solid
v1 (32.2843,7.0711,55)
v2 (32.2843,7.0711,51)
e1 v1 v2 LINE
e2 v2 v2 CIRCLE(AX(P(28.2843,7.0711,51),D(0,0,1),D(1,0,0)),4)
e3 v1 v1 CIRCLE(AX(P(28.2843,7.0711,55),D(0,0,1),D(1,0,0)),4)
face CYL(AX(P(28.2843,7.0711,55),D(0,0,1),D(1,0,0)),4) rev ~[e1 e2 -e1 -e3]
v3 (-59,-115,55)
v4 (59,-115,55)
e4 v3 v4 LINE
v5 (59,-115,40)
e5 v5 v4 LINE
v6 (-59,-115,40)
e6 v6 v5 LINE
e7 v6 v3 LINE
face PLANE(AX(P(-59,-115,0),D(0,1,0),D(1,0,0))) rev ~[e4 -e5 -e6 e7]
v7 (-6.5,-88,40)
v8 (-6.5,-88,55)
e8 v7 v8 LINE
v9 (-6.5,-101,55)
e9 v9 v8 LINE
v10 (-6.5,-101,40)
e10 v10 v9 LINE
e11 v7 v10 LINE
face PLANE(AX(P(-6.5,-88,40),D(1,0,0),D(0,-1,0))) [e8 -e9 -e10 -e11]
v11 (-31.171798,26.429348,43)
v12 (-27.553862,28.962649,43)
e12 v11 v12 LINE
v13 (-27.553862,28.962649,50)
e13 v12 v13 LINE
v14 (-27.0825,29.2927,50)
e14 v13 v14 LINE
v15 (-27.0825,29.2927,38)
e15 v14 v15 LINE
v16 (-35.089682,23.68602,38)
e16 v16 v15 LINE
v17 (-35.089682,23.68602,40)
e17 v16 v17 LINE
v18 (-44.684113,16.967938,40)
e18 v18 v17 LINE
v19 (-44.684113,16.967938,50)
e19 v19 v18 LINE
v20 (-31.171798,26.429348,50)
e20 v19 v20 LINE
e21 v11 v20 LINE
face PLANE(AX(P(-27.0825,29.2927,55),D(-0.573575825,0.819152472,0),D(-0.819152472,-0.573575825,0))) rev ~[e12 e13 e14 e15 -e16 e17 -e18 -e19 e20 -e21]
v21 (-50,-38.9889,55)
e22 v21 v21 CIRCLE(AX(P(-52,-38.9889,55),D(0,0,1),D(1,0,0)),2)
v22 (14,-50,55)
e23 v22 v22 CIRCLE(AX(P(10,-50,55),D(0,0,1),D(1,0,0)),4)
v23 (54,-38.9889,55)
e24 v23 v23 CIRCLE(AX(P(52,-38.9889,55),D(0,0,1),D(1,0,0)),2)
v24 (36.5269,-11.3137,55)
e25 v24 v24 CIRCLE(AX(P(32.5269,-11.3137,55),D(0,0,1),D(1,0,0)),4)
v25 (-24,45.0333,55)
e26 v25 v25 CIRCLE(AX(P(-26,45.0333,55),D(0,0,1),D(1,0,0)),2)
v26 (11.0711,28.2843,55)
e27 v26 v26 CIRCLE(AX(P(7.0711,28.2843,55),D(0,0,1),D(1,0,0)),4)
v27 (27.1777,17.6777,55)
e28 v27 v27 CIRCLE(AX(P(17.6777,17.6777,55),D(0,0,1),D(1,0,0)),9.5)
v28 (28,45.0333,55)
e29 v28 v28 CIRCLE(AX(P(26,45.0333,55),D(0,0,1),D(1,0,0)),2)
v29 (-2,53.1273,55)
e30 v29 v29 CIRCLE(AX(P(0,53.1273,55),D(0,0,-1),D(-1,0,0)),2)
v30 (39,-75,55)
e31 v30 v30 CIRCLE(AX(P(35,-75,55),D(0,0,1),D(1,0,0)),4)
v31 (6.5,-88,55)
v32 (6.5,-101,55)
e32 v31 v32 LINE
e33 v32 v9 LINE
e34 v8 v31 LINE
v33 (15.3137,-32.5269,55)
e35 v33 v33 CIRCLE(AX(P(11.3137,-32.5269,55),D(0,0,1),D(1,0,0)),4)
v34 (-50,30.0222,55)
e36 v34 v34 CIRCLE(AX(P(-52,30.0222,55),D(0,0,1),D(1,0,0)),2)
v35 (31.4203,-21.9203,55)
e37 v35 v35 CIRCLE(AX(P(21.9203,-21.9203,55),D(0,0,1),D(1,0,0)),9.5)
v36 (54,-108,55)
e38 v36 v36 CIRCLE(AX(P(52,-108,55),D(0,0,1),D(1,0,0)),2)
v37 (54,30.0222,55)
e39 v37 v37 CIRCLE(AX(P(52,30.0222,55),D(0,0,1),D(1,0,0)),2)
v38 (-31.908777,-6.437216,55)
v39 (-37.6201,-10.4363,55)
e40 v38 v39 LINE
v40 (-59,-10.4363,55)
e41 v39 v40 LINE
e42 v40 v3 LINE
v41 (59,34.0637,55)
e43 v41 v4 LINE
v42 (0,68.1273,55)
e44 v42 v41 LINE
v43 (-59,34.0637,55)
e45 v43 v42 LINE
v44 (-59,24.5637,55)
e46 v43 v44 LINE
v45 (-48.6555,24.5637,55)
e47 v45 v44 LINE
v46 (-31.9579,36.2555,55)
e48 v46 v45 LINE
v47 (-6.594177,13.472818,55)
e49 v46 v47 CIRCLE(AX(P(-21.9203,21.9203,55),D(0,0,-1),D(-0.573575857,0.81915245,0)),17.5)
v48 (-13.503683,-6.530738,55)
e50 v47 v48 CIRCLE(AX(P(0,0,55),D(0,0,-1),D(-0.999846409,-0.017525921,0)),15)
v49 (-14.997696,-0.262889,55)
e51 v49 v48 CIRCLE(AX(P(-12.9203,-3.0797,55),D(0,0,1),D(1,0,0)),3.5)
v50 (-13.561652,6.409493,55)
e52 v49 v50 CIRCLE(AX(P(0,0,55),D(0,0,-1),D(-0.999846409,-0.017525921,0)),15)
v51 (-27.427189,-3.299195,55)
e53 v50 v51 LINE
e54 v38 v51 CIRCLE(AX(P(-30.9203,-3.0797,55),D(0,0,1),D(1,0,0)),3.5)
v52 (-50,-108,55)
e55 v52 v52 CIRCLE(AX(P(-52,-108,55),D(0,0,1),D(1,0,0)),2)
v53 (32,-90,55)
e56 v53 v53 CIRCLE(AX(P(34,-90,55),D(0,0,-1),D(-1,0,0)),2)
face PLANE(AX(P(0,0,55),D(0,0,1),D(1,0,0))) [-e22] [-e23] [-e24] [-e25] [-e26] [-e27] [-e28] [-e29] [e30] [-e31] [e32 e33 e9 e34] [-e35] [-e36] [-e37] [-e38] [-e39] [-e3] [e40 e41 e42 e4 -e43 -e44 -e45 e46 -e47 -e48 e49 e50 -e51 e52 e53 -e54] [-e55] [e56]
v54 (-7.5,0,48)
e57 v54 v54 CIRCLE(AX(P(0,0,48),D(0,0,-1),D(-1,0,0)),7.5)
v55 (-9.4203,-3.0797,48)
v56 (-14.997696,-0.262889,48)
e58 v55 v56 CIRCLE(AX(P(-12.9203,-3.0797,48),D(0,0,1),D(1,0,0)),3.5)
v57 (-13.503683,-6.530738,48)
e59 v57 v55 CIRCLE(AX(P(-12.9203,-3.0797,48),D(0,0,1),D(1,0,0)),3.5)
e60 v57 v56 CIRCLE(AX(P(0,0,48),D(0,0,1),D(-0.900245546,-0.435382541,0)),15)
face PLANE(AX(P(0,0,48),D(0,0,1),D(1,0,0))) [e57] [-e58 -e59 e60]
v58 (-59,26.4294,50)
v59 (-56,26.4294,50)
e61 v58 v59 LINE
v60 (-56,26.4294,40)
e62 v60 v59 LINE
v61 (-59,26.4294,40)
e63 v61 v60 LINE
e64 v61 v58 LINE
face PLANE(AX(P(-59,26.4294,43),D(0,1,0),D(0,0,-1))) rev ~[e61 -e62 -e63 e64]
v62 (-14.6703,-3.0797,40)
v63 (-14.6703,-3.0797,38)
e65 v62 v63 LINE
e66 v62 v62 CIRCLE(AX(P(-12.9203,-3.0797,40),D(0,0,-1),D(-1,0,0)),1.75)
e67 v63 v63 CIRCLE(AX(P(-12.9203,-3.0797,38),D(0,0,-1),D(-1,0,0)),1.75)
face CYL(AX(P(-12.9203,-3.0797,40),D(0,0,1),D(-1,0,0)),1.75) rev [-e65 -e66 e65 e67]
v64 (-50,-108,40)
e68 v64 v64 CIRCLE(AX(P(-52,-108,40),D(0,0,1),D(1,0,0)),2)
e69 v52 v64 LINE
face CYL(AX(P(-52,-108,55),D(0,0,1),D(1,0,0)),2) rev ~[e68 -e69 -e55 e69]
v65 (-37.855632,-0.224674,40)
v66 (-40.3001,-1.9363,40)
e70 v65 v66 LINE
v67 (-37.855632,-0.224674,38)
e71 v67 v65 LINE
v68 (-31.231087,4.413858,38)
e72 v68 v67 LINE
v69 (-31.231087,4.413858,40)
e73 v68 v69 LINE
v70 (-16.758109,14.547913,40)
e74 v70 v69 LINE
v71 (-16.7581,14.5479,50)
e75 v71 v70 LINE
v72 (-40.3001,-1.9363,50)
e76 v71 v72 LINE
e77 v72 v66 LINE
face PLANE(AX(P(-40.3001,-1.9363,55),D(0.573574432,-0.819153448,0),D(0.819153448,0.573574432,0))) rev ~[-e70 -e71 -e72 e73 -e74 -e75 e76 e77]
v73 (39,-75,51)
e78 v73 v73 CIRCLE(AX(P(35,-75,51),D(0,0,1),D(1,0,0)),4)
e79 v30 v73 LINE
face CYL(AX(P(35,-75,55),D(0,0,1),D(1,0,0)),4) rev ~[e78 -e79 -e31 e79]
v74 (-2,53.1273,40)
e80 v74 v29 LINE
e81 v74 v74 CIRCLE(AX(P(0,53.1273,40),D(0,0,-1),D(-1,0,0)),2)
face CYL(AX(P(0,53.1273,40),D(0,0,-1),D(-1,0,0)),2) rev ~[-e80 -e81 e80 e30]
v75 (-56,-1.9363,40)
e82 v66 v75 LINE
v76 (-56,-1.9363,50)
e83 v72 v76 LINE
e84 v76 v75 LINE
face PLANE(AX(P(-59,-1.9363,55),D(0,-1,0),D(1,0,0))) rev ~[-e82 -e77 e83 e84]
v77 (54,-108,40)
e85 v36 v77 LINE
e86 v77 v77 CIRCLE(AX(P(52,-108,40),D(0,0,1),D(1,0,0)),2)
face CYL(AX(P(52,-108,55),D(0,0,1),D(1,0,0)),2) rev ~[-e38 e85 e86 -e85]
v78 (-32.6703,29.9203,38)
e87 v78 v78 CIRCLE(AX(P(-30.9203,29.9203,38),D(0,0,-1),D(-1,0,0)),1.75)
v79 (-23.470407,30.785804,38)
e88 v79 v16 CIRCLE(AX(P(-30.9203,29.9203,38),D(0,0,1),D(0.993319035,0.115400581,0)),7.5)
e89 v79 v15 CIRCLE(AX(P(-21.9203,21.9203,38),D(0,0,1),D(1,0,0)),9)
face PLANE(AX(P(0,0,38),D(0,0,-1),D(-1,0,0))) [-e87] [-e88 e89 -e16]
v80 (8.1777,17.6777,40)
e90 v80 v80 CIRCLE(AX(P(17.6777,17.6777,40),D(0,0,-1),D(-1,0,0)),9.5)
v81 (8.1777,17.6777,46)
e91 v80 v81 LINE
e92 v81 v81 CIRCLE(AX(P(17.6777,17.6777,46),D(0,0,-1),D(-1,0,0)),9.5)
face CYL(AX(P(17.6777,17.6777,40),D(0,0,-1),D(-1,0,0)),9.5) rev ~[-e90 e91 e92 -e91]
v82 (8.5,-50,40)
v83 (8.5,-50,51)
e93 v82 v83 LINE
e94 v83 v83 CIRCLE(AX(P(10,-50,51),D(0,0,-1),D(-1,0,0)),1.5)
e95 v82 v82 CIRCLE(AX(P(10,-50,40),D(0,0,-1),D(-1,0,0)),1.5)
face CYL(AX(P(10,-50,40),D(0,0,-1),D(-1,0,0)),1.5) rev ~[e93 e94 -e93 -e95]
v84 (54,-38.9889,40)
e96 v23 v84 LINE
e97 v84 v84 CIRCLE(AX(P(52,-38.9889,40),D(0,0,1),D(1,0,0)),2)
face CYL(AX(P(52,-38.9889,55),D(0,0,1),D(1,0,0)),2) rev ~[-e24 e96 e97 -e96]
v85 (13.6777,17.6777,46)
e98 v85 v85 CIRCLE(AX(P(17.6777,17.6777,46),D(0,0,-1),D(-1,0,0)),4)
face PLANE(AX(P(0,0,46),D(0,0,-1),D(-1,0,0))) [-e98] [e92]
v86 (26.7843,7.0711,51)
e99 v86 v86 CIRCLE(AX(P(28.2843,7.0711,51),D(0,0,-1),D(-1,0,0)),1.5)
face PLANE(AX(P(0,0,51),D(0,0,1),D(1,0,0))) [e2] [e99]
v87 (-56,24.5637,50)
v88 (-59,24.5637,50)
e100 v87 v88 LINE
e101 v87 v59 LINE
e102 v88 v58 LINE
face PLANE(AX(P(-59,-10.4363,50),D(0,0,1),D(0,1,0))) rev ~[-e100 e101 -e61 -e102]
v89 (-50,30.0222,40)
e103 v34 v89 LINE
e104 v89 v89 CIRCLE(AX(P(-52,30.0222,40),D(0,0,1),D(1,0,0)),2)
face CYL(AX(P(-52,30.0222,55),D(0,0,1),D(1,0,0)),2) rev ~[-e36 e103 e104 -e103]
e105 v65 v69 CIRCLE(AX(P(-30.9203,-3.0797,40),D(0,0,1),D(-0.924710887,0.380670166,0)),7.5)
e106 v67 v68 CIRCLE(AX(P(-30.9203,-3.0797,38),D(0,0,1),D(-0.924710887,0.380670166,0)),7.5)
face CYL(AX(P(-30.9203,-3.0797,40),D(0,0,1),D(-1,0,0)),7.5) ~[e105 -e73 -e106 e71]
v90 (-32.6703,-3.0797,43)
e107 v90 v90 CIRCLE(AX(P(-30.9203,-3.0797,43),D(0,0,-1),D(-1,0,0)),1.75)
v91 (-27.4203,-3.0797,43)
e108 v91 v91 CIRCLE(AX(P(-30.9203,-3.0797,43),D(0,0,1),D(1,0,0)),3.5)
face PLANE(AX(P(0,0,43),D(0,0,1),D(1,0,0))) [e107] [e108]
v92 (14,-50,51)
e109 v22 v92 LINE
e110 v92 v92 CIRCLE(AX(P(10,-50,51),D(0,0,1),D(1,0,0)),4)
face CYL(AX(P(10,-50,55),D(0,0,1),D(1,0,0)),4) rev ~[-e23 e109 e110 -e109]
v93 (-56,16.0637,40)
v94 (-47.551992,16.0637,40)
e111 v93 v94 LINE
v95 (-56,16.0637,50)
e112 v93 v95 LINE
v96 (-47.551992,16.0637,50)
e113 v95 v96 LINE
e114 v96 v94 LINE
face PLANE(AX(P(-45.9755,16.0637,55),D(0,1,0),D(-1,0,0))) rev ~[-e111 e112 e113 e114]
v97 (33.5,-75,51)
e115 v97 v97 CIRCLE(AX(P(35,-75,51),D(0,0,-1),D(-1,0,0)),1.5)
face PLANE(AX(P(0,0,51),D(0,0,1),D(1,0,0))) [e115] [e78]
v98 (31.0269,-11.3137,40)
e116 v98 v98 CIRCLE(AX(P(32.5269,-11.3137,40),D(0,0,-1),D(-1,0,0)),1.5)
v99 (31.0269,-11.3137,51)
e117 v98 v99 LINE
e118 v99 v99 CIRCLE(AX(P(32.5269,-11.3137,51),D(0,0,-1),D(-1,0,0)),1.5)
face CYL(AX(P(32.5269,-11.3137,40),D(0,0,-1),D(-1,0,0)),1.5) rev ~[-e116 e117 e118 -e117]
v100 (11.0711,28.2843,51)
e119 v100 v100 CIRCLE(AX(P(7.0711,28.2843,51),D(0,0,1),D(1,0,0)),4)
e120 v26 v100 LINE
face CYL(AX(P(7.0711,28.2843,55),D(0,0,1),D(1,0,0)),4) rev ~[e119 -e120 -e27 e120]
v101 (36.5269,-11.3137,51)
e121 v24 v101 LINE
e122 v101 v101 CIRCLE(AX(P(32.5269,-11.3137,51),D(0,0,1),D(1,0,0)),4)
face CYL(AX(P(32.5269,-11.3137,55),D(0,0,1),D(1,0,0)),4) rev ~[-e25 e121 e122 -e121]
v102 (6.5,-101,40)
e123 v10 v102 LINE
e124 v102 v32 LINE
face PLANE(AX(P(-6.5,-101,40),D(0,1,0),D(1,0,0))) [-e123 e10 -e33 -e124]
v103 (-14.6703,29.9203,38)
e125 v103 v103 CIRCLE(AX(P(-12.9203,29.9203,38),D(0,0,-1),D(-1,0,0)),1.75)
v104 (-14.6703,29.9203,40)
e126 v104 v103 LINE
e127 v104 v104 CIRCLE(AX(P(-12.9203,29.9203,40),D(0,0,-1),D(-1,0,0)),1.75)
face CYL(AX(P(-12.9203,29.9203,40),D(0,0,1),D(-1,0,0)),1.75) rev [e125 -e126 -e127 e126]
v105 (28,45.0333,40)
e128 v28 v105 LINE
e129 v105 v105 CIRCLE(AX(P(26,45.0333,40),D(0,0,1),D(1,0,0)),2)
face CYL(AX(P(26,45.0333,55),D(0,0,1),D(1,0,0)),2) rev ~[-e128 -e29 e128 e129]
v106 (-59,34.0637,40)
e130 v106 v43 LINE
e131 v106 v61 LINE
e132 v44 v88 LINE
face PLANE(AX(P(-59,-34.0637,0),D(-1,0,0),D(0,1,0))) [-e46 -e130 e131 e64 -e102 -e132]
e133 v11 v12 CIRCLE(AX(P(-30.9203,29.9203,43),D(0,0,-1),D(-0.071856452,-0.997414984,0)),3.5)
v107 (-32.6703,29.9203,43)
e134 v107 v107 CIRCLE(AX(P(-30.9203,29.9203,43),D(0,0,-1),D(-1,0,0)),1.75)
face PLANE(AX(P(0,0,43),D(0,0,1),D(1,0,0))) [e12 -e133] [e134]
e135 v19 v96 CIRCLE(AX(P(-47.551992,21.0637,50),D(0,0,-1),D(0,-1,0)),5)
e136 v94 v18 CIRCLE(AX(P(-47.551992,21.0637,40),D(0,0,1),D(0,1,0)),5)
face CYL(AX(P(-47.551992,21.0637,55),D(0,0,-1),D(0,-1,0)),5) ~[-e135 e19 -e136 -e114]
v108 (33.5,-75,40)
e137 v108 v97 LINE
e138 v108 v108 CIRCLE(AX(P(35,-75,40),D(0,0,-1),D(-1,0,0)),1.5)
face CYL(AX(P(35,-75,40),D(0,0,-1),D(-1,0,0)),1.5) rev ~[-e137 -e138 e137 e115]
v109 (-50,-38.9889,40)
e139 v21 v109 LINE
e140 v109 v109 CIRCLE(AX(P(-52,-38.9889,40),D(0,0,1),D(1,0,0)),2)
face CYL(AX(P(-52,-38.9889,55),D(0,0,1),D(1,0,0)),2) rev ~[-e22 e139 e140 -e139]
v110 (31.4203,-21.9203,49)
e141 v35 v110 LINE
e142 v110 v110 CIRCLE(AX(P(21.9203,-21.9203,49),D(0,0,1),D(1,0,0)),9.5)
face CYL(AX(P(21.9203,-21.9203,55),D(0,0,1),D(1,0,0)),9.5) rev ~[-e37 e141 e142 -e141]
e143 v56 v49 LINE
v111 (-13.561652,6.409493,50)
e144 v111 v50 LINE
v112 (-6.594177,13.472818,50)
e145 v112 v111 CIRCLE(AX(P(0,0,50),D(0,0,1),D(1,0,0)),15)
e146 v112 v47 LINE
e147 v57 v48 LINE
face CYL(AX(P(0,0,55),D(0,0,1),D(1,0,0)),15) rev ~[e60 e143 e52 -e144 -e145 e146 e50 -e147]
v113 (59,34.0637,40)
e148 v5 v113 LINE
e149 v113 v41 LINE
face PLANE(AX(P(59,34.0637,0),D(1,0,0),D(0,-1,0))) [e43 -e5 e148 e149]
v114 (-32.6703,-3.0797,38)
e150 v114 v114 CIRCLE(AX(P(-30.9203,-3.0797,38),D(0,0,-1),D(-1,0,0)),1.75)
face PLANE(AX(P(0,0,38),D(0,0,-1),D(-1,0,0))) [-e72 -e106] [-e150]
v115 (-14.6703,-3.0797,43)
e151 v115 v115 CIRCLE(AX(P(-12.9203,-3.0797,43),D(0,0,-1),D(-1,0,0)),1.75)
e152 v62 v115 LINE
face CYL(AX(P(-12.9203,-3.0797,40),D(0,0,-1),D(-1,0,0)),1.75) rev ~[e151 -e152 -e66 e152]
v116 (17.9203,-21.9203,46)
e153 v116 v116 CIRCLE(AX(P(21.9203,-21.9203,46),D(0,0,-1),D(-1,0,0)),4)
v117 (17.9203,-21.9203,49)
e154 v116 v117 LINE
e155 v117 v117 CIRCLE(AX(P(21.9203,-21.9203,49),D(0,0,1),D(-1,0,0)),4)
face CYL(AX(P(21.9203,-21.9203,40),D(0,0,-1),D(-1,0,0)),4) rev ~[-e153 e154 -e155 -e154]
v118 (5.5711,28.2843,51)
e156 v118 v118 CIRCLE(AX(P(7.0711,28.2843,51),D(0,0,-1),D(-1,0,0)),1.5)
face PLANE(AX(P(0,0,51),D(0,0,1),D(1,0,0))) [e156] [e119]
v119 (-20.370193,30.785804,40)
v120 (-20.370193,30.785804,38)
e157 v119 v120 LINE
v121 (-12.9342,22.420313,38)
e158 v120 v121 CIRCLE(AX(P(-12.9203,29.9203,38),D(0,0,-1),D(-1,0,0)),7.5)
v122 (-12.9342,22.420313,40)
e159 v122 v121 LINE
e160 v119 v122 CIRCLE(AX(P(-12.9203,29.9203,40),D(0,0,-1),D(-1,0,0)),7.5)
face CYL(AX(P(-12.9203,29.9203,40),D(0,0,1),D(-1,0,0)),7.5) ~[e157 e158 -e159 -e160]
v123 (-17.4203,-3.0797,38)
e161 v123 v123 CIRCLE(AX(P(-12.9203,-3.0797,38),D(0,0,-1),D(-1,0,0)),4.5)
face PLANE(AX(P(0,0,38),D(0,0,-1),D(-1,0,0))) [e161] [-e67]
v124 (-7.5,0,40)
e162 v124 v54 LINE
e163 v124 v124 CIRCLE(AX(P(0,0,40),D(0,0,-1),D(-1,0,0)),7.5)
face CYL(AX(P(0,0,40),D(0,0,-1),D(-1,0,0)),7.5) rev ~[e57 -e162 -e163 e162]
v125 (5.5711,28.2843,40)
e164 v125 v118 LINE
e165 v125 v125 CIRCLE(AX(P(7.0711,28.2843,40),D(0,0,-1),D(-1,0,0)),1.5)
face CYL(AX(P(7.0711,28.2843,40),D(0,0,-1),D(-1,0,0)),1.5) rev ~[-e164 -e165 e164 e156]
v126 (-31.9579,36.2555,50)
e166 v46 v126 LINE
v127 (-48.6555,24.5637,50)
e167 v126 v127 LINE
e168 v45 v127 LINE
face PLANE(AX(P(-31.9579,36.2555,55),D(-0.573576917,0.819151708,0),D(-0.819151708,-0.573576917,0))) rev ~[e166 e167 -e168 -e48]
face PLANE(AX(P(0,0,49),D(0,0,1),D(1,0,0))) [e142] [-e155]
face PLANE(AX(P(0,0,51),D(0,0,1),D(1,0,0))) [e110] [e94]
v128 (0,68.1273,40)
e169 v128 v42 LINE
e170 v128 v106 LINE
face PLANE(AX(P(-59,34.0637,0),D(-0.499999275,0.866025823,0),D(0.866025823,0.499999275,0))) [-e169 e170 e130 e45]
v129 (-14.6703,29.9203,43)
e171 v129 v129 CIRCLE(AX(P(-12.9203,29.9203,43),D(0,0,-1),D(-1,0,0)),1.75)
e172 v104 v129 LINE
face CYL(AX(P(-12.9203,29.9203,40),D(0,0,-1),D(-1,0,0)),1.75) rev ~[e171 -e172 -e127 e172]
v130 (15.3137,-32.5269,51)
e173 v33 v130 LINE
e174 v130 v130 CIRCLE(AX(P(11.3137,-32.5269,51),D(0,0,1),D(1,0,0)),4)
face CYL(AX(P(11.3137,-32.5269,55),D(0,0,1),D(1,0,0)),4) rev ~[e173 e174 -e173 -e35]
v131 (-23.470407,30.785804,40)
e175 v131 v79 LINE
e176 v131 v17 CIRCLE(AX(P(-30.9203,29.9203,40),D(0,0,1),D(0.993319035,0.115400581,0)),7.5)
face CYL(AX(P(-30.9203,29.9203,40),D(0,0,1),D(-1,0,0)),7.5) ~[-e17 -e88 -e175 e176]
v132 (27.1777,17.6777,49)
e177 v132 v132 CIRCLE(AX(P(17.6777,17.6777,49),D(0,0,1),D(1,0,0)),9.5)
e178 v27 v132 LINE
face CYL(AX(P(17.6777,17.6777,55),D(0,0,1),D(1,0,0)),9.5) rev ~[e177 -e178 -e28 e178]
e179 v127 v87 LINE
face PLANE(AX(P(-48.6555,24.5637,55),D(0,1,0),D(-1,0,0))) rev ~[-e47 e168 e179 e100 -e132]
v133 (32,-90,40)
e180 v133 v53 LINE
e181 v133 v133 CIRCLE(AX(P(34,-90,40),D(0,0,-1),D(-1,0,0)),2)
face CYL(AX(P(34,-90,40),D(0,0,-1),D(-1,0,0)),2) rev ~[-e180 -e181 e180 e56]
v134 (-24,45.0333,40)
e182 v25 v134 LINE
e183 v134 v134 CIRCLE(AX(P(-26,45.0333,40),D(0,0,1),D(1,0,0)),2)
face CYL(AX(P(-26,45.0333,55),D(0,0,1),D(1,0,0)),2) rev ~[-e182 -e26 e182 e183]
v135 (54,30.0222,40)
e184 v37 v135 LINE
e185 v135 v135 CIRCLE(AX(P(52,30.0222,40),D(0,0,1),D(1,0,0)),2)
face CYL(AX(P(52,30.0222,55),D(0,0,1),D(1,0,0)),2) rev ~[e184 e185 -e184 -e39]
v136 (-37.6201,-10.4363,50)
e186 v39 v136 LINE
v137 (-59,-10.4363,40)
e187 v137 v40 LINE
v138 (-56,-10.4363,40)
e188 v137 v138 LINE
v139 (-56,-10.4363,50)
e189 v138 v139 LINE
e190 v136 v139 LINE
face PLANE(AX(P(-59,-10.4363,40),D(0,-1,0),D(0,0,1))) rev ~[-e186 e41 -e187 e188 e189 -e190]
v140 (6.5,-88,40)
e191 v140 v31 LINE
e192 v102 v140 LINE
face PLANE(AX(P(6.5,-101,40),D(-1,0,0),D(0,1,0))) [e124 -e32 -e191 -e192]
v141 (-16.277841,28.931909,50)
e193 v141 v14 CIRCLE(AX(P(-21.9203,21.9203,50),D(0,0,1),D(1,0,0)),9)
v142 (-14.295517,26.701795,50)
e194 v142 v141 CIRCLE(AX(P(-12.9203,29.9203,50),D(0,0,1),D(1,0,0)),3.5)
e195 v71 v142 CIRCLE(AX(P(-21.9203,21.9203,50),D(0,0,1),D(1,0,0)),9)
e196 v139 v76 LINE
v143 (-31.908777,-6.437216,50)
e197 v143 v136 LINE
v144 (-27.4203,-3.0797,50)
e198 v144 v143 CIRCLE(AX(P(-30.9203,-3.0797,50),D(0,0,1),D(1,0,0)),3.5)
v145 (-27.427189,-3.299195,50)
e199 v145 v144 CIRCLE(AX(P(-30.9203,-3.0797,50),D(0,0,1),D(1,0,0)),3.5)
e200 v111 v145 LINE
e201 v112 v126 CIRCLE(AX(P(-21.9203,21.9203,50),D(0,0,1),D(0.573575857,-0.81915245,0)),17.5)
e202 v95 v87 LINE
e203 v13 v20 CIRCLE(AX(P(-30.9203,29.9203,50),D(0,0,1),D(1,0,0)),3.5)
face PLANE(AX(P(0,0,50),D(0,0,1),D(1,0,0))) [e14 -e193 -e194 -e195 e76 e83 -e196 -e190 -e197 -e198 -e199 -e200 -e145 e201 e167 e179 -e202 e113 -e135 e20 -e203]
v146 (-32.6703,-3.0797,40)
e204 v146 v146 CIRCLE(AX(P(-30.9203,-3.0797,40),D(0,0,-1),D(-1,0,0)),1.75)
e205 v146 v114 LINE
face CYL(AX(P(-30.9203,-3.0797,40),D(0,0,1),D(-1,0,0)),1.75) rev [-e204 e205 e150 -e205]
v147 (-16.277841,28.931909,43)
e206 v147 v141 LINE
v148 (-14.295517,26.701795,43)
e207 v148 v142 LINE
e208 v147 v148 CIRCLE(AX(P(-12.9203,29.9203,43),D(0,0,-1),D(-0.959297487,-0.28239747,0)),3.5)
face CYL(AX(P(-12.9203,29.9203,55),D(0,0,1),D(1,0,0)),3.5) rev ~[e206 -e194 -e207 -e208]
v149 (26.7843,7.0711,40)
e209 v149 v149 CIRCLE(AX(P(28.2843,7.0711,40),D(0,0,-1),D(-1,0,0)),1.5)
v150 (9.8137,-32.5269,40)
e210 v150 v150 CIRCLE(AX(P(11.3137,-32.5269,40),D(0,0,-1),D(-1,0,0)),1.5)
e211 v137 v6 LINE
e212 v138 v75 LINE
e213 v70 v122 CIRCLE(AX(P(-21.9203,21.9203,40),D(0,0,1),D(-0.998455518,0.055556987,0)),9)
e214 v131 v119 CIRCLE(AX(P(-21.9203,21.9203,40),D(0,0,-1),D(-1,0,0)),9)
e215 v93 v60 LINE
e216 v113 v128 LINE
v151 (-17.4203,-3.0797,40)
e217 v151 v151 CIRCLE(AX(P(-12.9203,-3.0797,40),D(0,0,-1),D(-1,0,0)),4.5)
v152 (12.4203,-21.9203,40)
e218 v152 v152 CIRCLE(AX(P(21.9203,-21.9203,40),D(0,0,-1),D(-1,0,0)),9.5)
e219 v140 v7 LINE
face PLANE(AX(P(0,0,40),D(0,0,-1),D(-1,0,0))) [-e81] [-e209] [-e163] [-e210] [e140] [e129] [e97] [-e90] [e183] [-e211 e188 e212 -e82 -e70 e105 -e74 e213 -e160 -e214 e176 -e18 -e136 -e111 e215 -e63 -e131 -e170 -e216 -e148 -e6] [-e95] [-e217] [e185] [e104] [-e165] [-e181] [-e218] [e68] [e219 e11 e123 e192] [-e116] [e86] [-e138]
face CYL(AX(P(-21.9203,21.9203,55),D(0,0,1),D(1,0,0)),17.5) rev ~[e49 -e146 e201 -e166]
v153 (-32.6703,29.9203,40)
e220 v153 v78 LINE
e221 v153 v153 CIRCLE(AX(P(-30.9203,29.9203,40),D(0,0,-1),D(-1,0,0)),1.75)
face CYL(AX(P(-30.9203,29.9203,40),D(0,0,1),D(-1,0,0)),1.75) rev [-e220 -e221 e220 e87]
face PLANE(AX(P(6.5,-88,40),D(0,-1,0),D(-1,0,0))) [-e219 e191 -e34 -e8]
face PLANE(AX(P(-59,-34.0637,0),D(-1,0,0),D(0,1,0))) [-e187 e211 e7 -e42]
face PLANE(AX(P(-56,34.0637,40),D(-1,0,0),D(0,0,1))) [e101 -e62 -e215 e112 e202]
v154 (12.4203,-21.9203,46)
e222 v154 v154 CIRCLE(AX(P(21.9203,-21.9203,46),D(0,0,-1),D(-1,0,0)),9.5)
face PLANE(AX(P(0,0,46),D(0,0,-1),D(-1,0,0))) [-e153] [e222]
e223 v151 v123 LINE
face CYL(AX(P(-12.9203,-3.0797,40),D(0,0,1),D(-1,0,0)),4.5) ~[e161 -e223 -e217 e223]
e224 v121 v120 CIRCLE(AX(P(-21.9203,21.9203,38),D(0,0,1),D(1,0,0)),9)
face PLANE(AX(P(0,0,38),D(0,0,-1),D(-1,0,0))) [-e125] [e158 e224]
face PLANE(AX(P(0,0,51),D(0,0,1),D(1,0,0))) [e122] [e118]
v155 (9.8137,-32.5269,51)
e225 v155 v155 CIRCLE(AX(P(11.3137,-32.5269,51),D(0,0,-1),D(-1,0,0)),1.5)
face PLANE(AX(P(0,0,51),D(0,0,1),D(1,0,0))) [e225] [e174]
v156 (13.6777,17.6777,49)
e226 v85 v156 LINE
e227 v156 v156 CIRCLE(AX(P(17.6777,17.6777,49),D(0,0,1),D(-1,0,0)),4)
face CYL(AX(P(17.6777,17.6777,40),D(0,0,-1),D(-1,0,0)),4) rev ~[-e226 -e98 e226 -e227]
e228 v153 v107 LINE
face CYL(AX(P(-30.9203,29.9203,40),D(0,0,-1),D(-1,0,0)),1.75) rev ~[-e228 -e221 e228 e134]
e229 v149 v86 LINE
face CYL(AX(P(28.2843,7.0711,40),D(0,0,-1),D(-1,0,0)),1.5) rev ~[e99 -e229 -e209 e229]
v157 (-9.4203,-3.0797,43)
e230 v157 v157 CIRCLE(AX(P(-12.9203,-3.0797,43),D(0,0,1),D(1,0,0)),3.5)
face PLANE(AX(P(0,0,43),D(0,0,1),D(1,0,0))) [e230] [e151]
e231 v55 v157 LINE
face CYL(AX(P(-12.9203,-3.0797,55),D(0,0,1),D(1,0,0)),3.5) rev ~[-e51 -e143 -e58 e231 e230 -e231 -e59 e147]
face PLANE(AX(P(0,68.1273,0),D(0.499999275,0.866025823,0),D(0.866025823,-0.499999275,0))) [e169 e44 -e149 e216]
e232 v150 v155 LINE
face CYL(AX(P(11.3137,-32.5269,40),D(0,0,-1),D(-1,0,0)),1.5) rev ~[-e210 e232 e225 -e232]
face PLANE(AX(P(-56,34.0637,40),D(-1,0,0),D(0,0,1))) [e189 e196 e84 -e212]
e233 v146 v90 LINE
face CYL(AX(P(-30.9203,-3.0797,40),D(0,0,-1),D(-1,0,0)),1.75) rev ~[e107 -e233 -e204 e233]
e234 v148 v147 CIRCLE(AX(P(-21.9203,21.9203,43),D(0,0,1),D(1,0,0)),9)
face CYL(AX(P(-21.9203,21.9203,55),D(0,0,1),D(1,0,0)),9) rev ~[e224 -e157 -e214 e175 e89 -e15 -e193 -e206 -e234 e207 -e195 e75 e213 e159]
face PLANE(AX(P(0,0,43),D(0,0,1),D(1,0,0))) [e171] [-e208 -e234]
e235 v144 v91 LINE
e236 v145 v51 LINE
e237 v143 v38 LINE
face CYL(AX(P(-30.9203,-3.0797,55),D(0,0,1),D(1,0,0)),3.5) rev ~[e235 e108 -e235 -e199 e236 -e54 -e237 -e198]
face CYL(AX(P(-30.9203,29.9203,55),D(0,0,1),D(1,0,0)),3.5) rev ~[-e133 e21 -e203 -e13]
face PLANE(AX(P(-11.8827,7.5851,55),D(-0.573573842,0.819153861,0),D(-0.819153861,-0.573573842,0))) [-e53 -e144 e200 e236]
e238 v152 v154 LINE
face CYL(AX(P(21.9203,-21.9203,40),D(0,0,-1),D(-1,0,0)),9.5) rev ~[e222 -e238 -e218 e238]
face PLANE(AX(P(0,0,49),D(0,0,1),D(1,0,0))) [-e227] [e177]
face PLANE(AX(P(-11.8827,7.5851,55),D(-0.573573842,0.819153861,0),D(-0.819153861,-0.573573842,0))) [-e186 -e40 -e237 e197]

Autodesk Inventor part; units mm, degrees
ref_plane "YZ Plane" through (0, 0, 0) normal (1, 0, 0) x (0, 1, 0)
ref_plane "XZ Plane" through (0, 0, 0) normal (0, 1, 0) x (-1, 0, 0)
ref_plane "XY Plane" through (0, 0, 0) normal (0, 0, 1) x (1, 0, 0)
sketch "Sketch35" plane through (0, 0, 0) normal (0, 0, 1) x (1, 0, 0)
  line L0 (0, 68.1273) -> (59, 34.0637)
  line L1 (59, 34.0637) -> (59, -34.0637)
  line L2 (59, -34.0637) -> (0, -68.1273)
  line L3 (0, -68.1273) -> (-59, -34.0637)
  line L4 (-59, -34.0637) -> (-59, 34.0637)
  line L5 (-59, 34.0637) -> (0, 68.1273)
  line L6 (-59, -34.0637) -> (-59, -115)
  line L7 (-59, -115) -> (59, -115)
  line L8 (59, -115) -> (59, -34.0637)
  point P0 (0, 0)
  point P1 (0, 0)
  dimension "d165" = 118
  dimension "d166" = 115
extrude "Extrusion34" add sketch "Sketch35" along normal blind 55
sketch "Sketch36" plane through (0, 0, 55) normal (0, 0, 1) x (1, 0, 0)
  line L0 (59, -115) -> (59, 34.0637) construction
  line L1 (59, 34.0637) -> (0, 68.1273) construction
  line L2 (0, 68.1273) -> (-59, 34.0637) construction
  line L3 (-59, 34.0637) -> (-59, -115) construction
  line L4 (-59, -115) -> (59, -115) construction
  line L5 (52, 30.0222) -> (52, -108) construction
  line L6 (52, -108) -> (-52, -108) construction
  line L7 (-52, -108) -> (-52, 30.0222) construction
  line L8 (-52, 30.0222) -> (0, 60.0444) construction
  line L9 (0, 60.0444) -> (52, 30.0222) construction
  circle A0 centre (-52, -108) radius 2
  circle A1 centre (52, -108) radius 2
  circle A2 centre (0, 60.0444) radius 2
  circle A3 centre (-52, 30.0222) radius 2
  circle A4 centre (52, 30.0222) radius 2
  circle A5 centre (-26, -108) radius 2
  circle A6 centre (26, -108) radius 2
  circle A7 centre (0, -108) radius 2
  circle A8 centre (-52, -68.9889) radius 2
  circle A9 centre (-52, -38.9889) radius 2
  circle A10 centre (-52, 0) radius 2
  circle A11 centre (52, 0) radius 2
  circle A12 centre (52, -38.9889) radius 2
  circle A13 centre (52, -68.9889) radius 2
  circle A14 centre (-26, 45.0333) radius 2
  circle A15 centre (26, 45.0333) radius 2
  point P0 (0, 0)
  dimension "d169" = 7
  dimension "d170" = 4
  dimension "d171" = 4
  dimension "d172" = 4
  dimension "d173" = 4
  dimension "d174" = 4
  dimension "d175" = 4
  dimension "d176" = 4
  dimension "d177" = 4
  dimension "d178" = 4
  dimension "d179" = 4
  dimension "d180" = 4
  dimension "d181" = 4
  dimension "d182" = 4
  dimension "d183" = 4
  dimension "d184" = 4
  dimension "d185" = 4
  dimension "d186" = 30
extrude "Extrusion35" cut sketch "Sketch36" against normal through all contours A0 | A1 | A3 | A4 | A9 | A12 | A14 | A15
sketch "Sketch37" plane through (0, 0, 55) normal (0, 0, 1) x (1, 0, 0)
  circle A0 centre (0, 0) radius 15
  dimension "d189" = 30
extrude "Extrusion36" cut sketch "Sketch37" against normal blind 7
sketch "Sketch41" plane through (0, 0, 0) normal (0, 0, -1) x (-1, 0, 0)
  circle A0 centre (26, 45.0333) radius 2 projected
  circle A1 centre (-52, -38.9889) radius 2 projected
  circle A2 centre (-52, 30.0222) radius 2 projected
  circle A3 centre (52, -108) radius 2 projected
  circle A4 centre (-52, -108) radius 2 projected
  circle A5 centre (52, 30.0222) radius 2 projected
  circle A6 centre (52, -38.9889) radius 2 projected
  circle A7 centre (-26, 45.0333) radius 2 projected
  line L0 (-59, -115) -> (-59, 34.0637) projected
  line L1 (59, -115) -> (-59, -115) projected
  line L2 (59, 34.0637) -> (59, -115) projected
  line L3 (0, 68.1273) -> (59, 34.0637) projected
  line L4 (-59, 34.0637) -> (0, 68.1273) projected
  line L5 (0, 51.9615) -> (45, 25.9808)
  line L6 (45, 25.9808) -> (45, -101)
  line L7 (45, -101) -> (-45, -101)
  line L8 (-45, -101) -> (-45, 25.9808)
  line L9 (-45, 25.9808) -> (0, 51.9615)
  point P0 (0, 0)
  dimension "d199" = 14
extrude "Extrusion39" cut sketch "Sketch41" against normal blind 40 contours L0 L4 L3 L2 L1 | L5 L6 L7 L8 L9
sketch "Sketch42" plane through (0, 0, 40) normal (0, 0, -1) x (-1, 0, 0)
  circle A0 centre (0, 0) radius 7.5
  circle A1 centre (-21.9203, -21.9203) radius 4
  circle A2 centre (-17.6777, 17.6777) radius 4
  circle A3 centre (21.9203, 21.9203) radius 4
  line L0 (0, 0) -> (32.276, 0) construction
  line L1 (0, 0) -> (-21.9203, -21.9203) construction
  line L2 (0, 0) -> (-17.6777, 17.6777) construction
  line L3 (0, 0) -> (21.9203, 21.9203) construction
  line L4 (12.9203, 29.9203) -> (30.9203, 29.9203) construction
  line L5 (30.9203, 29.9203) -> (30.9203, -3.0797) construction
  line L6 (30.9203, -3.0797) -> (12.9203, -3.0797) construction
  line L7 (12.9203, -3.0797) -> (12.9203, 29.9203) construction
  circle A4 centre (12.9203, 29.9203) radius 1.75
  circle A5 centre (30.9203, 29.9203) radius 1.75
  circle A6 centre (30.9203, -3.0797) radius 1.75
  circle A7 centre (12.9203, -3.0797) radius 1.75
  point P0 (21.9203, 29.9203)
  dimension "d202" = 15
  dimension "d203" = 8
  dimension "d204" = 8
  dimension "d205" = 8
  dimension "d206" = 31
  dimension "d207" = 25
  dimension "d208" = 31
  dimension "d209" = 45
  dimension "d210" = 18
  dimension "d211" = 33
  dimension "d212" = 8
  dimension "d213" = 3.5
  dimension "d214" = 3.5
  dimension "d215" = 3.5
  dimension "d216" = 3.5
  dimension "d219" = 135
  dimension "d220" = 135
extrude "Extrusion40" cut sketch "Sketch42" against normal through all
sketch "Sketch43" plane through (0, 0, 40) normal (0, 0, -1) x (-1, 0, 0)
  line L0 (-6.5, -88) -> (6.5, -88)
  line L1 (6.5, -88) -> (6.5, -101)
  line L2 (6.5, -101) -> (-6.5, -101)
  line L3 (-6.5, -101) -> (-6.5, -88)
  line L4 (59, -115) -> (-59, -115) projected
  point P0 (0, 0)
  point P1 (0, -88)
  dimension "d221" = 13
  dimension "d222" = 13
  dimension "d223" = 27
extrude "Extrusion41" cut sketch "Sketch43" against normal through all
sketch "Sketch44" plane through (0, 0, 40) normal (0, 0, -1) x (-1, 0, 0)
  circle A0 centre (0, 53.1273) radius 2
  circle A1 centre (-34, -90) radius 2
  line L0 (-59, -115) -> (-59, 34.0637) projected
  line L1 (59, -115) -> (-59, -115) projected
  point P0 (0, 0)
  point P1 (0, 68.1273)
  dimension "d226" = 4
  dimension "d227" = 4
  dimension "d228" = 15
  dimension "d229" = 25
  dimension "d230" = 25
extrude "Extrusion42" cut sketch "Sketch44" against normal through all
sketch "Sketch45" plane through (0, 0, 40) normal (0, 0, -1) x (-1, 0, 0)
  circle A0 centre (21.9203, 21.9203) radius 4 projected
  circle A1 centre (12.9203, 29.9203) radius 1.75 projected
  circle A2 centre (30.9203, 29.9203) radius 1.75 projected
  circle A3 centre (30.9203, -3.0797) radius 1.75 projected
  circle A4 centre (12.9203, -3.0797) radius 1.75 projected
  circle A5 centre (12.9203, -3.0797) radius 4.5
  circle A6 centre (12.9203, 29.9203) radius 7.5
  circle A7 centre (21.9203, 21.9203) radius 9
  circle A8 centre (30.9203, 29.9203) radius 1.75 projected
  circle A9 centre (30.9203, 29.9203) radius 7.5
  circle A10 centre (30.9203, -3.0797) radius 7.5
  point P0 (0, 0)
  dimension "d233" = 9
  dimension "d234" = 15
  dimension "d235" = 18
  dimension "d236" = 15
  dimension "d237" = 15
extrude "Extrusion43" add sketch "Sketch45" along normal blind 2
sketch "Sketch47" plane through (0, 0, 55) normal (0, 0, 1) x (1, 0, 0)
  circle A0 centre (-21.9203, 21.9203) radius 4 projected
  circle A1 centre (-21.9203, 21.9203) radius 9
  line L0 (-27.0825, 29.2927) -> (-45.9755, 16.0637)
  line L1 (-45.9755, 16.0637) -> (-59, 16.0637)
  line L2 (-59, 34.0637) -> (-59, -115) projected
  line L3 (-59, 16.0637) -> (-59, -1.9363)
  line L4 (-59, -1.9363) -> (-40.3001, -1.9363)
  line L5 (-40.3001, -1.9363) -> (-16.7581, 14.5479)
  point P0 (0, 0)
  dimension "d242" = 18
  dimension "d243" = 18
  dimension "d244" = 145
  dimension "d245" = 18
extrude "Extrusion45" cut sketch "Sketch47" against normal through all
fillet "Fillet1" radius 5 1 edges at (-45.9755, 16.0637, 47.5)
sketch "Sketch49" plane through (0, 0, 55) normal (0, 0, 1) x (1, 0, 0)
  circle A0 centre (-30.9203, 29.9203) radius 3.5
  circle A1 centre (-12.9203, 29.9203) radius 3.5
  circle A2 centre (-12.9203, -3.0797) radius 3.5
  circle A3 centre (-30.9203, -3.0797) radius 3.5
  circle A4 centre (-30.9203, 29.9203) radius 1.75 projected
  circle A5 centre (-30.9203, -3.0797) radius 1.75 projected
  arc A6 (-14.5047, -3.8228) -> (-14.6696, -3.1312) centre (-12.9203, -3.0797) ccw projected
  circle A7 centre (-12.9203, 29.9203) radius 1.75 projected
  point P0 (0, 0)
  dimension "d249" = 7
  dimension "d250" = 7
  dimension "d251" = 7
  dimension "d252" = 7
extrude "Extrusion46" cut sketch "Sketch49" against normal blind 12 contours A0 | A1 | A2 | A3 | A4 | A5 | A7
sketch "Sketch50" plane through (0, 0, 55) normal (0, 0, 1) x (1, 0, 0)
  arc A0 (-16.2779, 28.9319) -> (-27.0825, 29.2927) centre (-21.9203, 21.9203) ccw projected
  circle A1 centre (-21.9203, 21.9203) radius 17.5
  line L0 (-31.9579, 36.2555) -> (-48.6555, 24.5637)
  line L1 (-48.6555, 24.5637) -> (-59, 24.5637)
  line L2 (-11.8827, 7.5851) -> (-37.6201, -10.4363)
  line L3 (-37.6201, -10.4363) -> (-59, -10.4363)
  line L4 (-59, -1.9363) -> (-59, -115) projected
  line L5 (-59, -10.4363) -> (-59, 24.5637)
  line L6 (-44.6841, 16.9679) -> (-31.1718, 26.4294) projected
  line L7 (-16.7581, 14.5479) -> (-40.3001, -1.9363) projected
  line L8 (-40.3001, -1.9363) -> (-59, -1.9363) projected
  line L9 (-59, 16.0637) -> (-47.552, 16.0637) projected
  line L10 (-59, 16.0637) -> (-59, -1.9363)
  point P0 (0, 0)
  point P1 (-59, 7.0637)
  dimension "d255" = 35
  dimension "d258" = 35
extrude "Extrusion47" cut sketch "Sketch50" against normal blind 5
sketch "Sketch52" plane through (-59, 34.0637, 40) normal (-1, 0, 0) x (0, 0, 1)
  line L0 (3, -7.6343) -> (10, -7.6343) projected
  line L1 (0, -149.0637) -> (0, 0) projected
  line L2 (10, -7.6343) -> (0, -7.6343)
  line L3 (0, -7.6343) -> (0, -44.5)
  line L4 (0, -44.5) -> (10, -44.5)
  line L5 (10, -44.5) -> (10, -7.6343)
  point P0 (-40, -34.0637)
  point P1 (10, -44.5)
extrude "Extrusion48" cut sketch "Sketch52" against normal blind 3
sketch "Sketch53" plane through (0, 0, 55) normal (0, 0, 1) x (1, 0, 0)
  circle A0 centre (17.6777, 17.6777) radius 4 projected
  circle A1 centre (17.6777, 17.6777) radius 9.5
  circle A2 centre (21.9203, -21.9203) radius 4 projected
  circle A3 centre (21.9203, -21.9203) radius 9.5
  point P0 (0, 0)
  dimension "d261" = 19
  dimension "d262" = 19
extrude "Extrusion49" cut sketch "Sketch53" against normal blind 6
sketch "Sketch54" plane through (0, 0, 40) normal (0, 0, -1) x (-1, 0, 0)
  circle A0 centre (-17.6777, 17.6777) radius 4 projected
  circle A1 centre (-17.6777, 17.6777) radius 9.5
  circle A2 centre (-21.9203, -21.9203) radius 4 projected
  circle A3 centre (-21.9203, -21.9203) radius 9.5
  point P0 (0, 0)
  dimension "d265" = 19
  dimension "d266" = 19
extrude "Extrusion50" cut sketch "Sketch54" against normal blind 6
sketch "Sketch56" plane through (0, 0, 40) normal (0, 0, -1) x (-1, 0, 0)
  line L0 (-28.2843, 7.0711) -> (-7.0711, 28.2843) construction
  line L1 (0, 0) -> (-17.6777, 17.6777) construction
  circle A0 centre (-21.9203, -21.9203) radius 4 construction
  line L2 (0, 0) -> (-21.9203, -21.9203) construction
  line L3 (-32.5269, -11.3137) -> (-11.3137, -32.5269) construction
  circle A1 centre (-17.6777, 17.6777) radius 4 construction
  circle A2 centre (-7.0711, 28.2843) radius 1.5
  circle A3 centre (-28.2843, 7.0711) radius 1.5
  circle A4 centre (-32.5269, -11.3137) radius 1.5
  circle A5 centre (-11.3137, -32.5269) radius 1.5
  dimension "d272" = 30
  dimension "d273" = 30
  dimension "d274" = 3
  dimension "d275" = 3
  dimension "d276" = 3
  dimension "d277" = 3
extrude "Extrusion51" cut sketch "Sketch56" against normal through all
sketch "Sketch57" plane through (0, 0, 55) normal (0, 0, 1) x (1, 0, 0)
  circle A0 centre (7.0711, 28.2843) radius 1.5 projected
  circle A1 centre (28.2843, 7.0711) radius 1.5 projected
  circle A2 centre (32.5269, -11.3137) radius 1.5 projected
  circle A3 centre (11.3137, -32.5269) radius 1.5 projected
  circle A4 centre (7.0711, 28.2843) radius 1.5 projected
  circle A5 centre (7.0711, 28.2843) radius 4
  circle A6 centre (28.2843, 7.0711) radius 4
  circle A7 centre (32.5269, -11.3137) radius 4
  circle A8 centre (11.3137, -32.5269) radius 4
  point P0 (0, 0)
  dimension "d280" = 8
  dimension "d281" = 8
  dimension "d282" = 8
  dimension "d283" = 8
extrude "Extrusion52" cut sketch "Sketch57" against normal blind 4 contours A0 | A1 | A2 | A3 | A5 | A6 | A7 | A8
sketch "Sketch58" plane through (0, 0, 40) normal (0, 0, -1) x (-1, 0, 0)
  circle A0 centre (-35, -75) radius 1.5
  circle A1 centre (-10, -50) radius 1.5
  point P0 (0, 0)
  dimension "d286" = 3
  dimension "d287" = 3
  dimension "d288" = 50
  dimension "d289" = 10
  dimension "d290" = 25
  dimension "d291" = 25
extrude "Extrusion53" cut sketch "Sketch58" against normal through all
sketch "Sketch59" plane through (0, 0, 55) normal (0, 0, 1) x (1, 0, 0)
  circle A0 centre (10, -50) radius 1.5 projected
  circle A1 centre (35, -75) radius 1.5 projected
  circle A2 centre (10, -50) radius 1.5 projected
  circle A3 centre (10, -50) radius 4
  circle A4 centre (35, -75) radius 1.5 projected
  circle A5 centre (35, -75) radius 4
  point P0 (0, 0)
  dimension "d294" = 8
  dimension "d295" = 8
extrude "Extrusion54" cut sketch "Sketch59" against normal blind 4 contours A0 | A1 | A3 | A5
equation "\"d213\" = d215"
equation "\"d214\" = d215"
equation "\"d216\" = d215"
equation "\"d243\" = d242"
equation "\"d258\" = d255"
properties part number "AC02" material "ABS Plastic"
